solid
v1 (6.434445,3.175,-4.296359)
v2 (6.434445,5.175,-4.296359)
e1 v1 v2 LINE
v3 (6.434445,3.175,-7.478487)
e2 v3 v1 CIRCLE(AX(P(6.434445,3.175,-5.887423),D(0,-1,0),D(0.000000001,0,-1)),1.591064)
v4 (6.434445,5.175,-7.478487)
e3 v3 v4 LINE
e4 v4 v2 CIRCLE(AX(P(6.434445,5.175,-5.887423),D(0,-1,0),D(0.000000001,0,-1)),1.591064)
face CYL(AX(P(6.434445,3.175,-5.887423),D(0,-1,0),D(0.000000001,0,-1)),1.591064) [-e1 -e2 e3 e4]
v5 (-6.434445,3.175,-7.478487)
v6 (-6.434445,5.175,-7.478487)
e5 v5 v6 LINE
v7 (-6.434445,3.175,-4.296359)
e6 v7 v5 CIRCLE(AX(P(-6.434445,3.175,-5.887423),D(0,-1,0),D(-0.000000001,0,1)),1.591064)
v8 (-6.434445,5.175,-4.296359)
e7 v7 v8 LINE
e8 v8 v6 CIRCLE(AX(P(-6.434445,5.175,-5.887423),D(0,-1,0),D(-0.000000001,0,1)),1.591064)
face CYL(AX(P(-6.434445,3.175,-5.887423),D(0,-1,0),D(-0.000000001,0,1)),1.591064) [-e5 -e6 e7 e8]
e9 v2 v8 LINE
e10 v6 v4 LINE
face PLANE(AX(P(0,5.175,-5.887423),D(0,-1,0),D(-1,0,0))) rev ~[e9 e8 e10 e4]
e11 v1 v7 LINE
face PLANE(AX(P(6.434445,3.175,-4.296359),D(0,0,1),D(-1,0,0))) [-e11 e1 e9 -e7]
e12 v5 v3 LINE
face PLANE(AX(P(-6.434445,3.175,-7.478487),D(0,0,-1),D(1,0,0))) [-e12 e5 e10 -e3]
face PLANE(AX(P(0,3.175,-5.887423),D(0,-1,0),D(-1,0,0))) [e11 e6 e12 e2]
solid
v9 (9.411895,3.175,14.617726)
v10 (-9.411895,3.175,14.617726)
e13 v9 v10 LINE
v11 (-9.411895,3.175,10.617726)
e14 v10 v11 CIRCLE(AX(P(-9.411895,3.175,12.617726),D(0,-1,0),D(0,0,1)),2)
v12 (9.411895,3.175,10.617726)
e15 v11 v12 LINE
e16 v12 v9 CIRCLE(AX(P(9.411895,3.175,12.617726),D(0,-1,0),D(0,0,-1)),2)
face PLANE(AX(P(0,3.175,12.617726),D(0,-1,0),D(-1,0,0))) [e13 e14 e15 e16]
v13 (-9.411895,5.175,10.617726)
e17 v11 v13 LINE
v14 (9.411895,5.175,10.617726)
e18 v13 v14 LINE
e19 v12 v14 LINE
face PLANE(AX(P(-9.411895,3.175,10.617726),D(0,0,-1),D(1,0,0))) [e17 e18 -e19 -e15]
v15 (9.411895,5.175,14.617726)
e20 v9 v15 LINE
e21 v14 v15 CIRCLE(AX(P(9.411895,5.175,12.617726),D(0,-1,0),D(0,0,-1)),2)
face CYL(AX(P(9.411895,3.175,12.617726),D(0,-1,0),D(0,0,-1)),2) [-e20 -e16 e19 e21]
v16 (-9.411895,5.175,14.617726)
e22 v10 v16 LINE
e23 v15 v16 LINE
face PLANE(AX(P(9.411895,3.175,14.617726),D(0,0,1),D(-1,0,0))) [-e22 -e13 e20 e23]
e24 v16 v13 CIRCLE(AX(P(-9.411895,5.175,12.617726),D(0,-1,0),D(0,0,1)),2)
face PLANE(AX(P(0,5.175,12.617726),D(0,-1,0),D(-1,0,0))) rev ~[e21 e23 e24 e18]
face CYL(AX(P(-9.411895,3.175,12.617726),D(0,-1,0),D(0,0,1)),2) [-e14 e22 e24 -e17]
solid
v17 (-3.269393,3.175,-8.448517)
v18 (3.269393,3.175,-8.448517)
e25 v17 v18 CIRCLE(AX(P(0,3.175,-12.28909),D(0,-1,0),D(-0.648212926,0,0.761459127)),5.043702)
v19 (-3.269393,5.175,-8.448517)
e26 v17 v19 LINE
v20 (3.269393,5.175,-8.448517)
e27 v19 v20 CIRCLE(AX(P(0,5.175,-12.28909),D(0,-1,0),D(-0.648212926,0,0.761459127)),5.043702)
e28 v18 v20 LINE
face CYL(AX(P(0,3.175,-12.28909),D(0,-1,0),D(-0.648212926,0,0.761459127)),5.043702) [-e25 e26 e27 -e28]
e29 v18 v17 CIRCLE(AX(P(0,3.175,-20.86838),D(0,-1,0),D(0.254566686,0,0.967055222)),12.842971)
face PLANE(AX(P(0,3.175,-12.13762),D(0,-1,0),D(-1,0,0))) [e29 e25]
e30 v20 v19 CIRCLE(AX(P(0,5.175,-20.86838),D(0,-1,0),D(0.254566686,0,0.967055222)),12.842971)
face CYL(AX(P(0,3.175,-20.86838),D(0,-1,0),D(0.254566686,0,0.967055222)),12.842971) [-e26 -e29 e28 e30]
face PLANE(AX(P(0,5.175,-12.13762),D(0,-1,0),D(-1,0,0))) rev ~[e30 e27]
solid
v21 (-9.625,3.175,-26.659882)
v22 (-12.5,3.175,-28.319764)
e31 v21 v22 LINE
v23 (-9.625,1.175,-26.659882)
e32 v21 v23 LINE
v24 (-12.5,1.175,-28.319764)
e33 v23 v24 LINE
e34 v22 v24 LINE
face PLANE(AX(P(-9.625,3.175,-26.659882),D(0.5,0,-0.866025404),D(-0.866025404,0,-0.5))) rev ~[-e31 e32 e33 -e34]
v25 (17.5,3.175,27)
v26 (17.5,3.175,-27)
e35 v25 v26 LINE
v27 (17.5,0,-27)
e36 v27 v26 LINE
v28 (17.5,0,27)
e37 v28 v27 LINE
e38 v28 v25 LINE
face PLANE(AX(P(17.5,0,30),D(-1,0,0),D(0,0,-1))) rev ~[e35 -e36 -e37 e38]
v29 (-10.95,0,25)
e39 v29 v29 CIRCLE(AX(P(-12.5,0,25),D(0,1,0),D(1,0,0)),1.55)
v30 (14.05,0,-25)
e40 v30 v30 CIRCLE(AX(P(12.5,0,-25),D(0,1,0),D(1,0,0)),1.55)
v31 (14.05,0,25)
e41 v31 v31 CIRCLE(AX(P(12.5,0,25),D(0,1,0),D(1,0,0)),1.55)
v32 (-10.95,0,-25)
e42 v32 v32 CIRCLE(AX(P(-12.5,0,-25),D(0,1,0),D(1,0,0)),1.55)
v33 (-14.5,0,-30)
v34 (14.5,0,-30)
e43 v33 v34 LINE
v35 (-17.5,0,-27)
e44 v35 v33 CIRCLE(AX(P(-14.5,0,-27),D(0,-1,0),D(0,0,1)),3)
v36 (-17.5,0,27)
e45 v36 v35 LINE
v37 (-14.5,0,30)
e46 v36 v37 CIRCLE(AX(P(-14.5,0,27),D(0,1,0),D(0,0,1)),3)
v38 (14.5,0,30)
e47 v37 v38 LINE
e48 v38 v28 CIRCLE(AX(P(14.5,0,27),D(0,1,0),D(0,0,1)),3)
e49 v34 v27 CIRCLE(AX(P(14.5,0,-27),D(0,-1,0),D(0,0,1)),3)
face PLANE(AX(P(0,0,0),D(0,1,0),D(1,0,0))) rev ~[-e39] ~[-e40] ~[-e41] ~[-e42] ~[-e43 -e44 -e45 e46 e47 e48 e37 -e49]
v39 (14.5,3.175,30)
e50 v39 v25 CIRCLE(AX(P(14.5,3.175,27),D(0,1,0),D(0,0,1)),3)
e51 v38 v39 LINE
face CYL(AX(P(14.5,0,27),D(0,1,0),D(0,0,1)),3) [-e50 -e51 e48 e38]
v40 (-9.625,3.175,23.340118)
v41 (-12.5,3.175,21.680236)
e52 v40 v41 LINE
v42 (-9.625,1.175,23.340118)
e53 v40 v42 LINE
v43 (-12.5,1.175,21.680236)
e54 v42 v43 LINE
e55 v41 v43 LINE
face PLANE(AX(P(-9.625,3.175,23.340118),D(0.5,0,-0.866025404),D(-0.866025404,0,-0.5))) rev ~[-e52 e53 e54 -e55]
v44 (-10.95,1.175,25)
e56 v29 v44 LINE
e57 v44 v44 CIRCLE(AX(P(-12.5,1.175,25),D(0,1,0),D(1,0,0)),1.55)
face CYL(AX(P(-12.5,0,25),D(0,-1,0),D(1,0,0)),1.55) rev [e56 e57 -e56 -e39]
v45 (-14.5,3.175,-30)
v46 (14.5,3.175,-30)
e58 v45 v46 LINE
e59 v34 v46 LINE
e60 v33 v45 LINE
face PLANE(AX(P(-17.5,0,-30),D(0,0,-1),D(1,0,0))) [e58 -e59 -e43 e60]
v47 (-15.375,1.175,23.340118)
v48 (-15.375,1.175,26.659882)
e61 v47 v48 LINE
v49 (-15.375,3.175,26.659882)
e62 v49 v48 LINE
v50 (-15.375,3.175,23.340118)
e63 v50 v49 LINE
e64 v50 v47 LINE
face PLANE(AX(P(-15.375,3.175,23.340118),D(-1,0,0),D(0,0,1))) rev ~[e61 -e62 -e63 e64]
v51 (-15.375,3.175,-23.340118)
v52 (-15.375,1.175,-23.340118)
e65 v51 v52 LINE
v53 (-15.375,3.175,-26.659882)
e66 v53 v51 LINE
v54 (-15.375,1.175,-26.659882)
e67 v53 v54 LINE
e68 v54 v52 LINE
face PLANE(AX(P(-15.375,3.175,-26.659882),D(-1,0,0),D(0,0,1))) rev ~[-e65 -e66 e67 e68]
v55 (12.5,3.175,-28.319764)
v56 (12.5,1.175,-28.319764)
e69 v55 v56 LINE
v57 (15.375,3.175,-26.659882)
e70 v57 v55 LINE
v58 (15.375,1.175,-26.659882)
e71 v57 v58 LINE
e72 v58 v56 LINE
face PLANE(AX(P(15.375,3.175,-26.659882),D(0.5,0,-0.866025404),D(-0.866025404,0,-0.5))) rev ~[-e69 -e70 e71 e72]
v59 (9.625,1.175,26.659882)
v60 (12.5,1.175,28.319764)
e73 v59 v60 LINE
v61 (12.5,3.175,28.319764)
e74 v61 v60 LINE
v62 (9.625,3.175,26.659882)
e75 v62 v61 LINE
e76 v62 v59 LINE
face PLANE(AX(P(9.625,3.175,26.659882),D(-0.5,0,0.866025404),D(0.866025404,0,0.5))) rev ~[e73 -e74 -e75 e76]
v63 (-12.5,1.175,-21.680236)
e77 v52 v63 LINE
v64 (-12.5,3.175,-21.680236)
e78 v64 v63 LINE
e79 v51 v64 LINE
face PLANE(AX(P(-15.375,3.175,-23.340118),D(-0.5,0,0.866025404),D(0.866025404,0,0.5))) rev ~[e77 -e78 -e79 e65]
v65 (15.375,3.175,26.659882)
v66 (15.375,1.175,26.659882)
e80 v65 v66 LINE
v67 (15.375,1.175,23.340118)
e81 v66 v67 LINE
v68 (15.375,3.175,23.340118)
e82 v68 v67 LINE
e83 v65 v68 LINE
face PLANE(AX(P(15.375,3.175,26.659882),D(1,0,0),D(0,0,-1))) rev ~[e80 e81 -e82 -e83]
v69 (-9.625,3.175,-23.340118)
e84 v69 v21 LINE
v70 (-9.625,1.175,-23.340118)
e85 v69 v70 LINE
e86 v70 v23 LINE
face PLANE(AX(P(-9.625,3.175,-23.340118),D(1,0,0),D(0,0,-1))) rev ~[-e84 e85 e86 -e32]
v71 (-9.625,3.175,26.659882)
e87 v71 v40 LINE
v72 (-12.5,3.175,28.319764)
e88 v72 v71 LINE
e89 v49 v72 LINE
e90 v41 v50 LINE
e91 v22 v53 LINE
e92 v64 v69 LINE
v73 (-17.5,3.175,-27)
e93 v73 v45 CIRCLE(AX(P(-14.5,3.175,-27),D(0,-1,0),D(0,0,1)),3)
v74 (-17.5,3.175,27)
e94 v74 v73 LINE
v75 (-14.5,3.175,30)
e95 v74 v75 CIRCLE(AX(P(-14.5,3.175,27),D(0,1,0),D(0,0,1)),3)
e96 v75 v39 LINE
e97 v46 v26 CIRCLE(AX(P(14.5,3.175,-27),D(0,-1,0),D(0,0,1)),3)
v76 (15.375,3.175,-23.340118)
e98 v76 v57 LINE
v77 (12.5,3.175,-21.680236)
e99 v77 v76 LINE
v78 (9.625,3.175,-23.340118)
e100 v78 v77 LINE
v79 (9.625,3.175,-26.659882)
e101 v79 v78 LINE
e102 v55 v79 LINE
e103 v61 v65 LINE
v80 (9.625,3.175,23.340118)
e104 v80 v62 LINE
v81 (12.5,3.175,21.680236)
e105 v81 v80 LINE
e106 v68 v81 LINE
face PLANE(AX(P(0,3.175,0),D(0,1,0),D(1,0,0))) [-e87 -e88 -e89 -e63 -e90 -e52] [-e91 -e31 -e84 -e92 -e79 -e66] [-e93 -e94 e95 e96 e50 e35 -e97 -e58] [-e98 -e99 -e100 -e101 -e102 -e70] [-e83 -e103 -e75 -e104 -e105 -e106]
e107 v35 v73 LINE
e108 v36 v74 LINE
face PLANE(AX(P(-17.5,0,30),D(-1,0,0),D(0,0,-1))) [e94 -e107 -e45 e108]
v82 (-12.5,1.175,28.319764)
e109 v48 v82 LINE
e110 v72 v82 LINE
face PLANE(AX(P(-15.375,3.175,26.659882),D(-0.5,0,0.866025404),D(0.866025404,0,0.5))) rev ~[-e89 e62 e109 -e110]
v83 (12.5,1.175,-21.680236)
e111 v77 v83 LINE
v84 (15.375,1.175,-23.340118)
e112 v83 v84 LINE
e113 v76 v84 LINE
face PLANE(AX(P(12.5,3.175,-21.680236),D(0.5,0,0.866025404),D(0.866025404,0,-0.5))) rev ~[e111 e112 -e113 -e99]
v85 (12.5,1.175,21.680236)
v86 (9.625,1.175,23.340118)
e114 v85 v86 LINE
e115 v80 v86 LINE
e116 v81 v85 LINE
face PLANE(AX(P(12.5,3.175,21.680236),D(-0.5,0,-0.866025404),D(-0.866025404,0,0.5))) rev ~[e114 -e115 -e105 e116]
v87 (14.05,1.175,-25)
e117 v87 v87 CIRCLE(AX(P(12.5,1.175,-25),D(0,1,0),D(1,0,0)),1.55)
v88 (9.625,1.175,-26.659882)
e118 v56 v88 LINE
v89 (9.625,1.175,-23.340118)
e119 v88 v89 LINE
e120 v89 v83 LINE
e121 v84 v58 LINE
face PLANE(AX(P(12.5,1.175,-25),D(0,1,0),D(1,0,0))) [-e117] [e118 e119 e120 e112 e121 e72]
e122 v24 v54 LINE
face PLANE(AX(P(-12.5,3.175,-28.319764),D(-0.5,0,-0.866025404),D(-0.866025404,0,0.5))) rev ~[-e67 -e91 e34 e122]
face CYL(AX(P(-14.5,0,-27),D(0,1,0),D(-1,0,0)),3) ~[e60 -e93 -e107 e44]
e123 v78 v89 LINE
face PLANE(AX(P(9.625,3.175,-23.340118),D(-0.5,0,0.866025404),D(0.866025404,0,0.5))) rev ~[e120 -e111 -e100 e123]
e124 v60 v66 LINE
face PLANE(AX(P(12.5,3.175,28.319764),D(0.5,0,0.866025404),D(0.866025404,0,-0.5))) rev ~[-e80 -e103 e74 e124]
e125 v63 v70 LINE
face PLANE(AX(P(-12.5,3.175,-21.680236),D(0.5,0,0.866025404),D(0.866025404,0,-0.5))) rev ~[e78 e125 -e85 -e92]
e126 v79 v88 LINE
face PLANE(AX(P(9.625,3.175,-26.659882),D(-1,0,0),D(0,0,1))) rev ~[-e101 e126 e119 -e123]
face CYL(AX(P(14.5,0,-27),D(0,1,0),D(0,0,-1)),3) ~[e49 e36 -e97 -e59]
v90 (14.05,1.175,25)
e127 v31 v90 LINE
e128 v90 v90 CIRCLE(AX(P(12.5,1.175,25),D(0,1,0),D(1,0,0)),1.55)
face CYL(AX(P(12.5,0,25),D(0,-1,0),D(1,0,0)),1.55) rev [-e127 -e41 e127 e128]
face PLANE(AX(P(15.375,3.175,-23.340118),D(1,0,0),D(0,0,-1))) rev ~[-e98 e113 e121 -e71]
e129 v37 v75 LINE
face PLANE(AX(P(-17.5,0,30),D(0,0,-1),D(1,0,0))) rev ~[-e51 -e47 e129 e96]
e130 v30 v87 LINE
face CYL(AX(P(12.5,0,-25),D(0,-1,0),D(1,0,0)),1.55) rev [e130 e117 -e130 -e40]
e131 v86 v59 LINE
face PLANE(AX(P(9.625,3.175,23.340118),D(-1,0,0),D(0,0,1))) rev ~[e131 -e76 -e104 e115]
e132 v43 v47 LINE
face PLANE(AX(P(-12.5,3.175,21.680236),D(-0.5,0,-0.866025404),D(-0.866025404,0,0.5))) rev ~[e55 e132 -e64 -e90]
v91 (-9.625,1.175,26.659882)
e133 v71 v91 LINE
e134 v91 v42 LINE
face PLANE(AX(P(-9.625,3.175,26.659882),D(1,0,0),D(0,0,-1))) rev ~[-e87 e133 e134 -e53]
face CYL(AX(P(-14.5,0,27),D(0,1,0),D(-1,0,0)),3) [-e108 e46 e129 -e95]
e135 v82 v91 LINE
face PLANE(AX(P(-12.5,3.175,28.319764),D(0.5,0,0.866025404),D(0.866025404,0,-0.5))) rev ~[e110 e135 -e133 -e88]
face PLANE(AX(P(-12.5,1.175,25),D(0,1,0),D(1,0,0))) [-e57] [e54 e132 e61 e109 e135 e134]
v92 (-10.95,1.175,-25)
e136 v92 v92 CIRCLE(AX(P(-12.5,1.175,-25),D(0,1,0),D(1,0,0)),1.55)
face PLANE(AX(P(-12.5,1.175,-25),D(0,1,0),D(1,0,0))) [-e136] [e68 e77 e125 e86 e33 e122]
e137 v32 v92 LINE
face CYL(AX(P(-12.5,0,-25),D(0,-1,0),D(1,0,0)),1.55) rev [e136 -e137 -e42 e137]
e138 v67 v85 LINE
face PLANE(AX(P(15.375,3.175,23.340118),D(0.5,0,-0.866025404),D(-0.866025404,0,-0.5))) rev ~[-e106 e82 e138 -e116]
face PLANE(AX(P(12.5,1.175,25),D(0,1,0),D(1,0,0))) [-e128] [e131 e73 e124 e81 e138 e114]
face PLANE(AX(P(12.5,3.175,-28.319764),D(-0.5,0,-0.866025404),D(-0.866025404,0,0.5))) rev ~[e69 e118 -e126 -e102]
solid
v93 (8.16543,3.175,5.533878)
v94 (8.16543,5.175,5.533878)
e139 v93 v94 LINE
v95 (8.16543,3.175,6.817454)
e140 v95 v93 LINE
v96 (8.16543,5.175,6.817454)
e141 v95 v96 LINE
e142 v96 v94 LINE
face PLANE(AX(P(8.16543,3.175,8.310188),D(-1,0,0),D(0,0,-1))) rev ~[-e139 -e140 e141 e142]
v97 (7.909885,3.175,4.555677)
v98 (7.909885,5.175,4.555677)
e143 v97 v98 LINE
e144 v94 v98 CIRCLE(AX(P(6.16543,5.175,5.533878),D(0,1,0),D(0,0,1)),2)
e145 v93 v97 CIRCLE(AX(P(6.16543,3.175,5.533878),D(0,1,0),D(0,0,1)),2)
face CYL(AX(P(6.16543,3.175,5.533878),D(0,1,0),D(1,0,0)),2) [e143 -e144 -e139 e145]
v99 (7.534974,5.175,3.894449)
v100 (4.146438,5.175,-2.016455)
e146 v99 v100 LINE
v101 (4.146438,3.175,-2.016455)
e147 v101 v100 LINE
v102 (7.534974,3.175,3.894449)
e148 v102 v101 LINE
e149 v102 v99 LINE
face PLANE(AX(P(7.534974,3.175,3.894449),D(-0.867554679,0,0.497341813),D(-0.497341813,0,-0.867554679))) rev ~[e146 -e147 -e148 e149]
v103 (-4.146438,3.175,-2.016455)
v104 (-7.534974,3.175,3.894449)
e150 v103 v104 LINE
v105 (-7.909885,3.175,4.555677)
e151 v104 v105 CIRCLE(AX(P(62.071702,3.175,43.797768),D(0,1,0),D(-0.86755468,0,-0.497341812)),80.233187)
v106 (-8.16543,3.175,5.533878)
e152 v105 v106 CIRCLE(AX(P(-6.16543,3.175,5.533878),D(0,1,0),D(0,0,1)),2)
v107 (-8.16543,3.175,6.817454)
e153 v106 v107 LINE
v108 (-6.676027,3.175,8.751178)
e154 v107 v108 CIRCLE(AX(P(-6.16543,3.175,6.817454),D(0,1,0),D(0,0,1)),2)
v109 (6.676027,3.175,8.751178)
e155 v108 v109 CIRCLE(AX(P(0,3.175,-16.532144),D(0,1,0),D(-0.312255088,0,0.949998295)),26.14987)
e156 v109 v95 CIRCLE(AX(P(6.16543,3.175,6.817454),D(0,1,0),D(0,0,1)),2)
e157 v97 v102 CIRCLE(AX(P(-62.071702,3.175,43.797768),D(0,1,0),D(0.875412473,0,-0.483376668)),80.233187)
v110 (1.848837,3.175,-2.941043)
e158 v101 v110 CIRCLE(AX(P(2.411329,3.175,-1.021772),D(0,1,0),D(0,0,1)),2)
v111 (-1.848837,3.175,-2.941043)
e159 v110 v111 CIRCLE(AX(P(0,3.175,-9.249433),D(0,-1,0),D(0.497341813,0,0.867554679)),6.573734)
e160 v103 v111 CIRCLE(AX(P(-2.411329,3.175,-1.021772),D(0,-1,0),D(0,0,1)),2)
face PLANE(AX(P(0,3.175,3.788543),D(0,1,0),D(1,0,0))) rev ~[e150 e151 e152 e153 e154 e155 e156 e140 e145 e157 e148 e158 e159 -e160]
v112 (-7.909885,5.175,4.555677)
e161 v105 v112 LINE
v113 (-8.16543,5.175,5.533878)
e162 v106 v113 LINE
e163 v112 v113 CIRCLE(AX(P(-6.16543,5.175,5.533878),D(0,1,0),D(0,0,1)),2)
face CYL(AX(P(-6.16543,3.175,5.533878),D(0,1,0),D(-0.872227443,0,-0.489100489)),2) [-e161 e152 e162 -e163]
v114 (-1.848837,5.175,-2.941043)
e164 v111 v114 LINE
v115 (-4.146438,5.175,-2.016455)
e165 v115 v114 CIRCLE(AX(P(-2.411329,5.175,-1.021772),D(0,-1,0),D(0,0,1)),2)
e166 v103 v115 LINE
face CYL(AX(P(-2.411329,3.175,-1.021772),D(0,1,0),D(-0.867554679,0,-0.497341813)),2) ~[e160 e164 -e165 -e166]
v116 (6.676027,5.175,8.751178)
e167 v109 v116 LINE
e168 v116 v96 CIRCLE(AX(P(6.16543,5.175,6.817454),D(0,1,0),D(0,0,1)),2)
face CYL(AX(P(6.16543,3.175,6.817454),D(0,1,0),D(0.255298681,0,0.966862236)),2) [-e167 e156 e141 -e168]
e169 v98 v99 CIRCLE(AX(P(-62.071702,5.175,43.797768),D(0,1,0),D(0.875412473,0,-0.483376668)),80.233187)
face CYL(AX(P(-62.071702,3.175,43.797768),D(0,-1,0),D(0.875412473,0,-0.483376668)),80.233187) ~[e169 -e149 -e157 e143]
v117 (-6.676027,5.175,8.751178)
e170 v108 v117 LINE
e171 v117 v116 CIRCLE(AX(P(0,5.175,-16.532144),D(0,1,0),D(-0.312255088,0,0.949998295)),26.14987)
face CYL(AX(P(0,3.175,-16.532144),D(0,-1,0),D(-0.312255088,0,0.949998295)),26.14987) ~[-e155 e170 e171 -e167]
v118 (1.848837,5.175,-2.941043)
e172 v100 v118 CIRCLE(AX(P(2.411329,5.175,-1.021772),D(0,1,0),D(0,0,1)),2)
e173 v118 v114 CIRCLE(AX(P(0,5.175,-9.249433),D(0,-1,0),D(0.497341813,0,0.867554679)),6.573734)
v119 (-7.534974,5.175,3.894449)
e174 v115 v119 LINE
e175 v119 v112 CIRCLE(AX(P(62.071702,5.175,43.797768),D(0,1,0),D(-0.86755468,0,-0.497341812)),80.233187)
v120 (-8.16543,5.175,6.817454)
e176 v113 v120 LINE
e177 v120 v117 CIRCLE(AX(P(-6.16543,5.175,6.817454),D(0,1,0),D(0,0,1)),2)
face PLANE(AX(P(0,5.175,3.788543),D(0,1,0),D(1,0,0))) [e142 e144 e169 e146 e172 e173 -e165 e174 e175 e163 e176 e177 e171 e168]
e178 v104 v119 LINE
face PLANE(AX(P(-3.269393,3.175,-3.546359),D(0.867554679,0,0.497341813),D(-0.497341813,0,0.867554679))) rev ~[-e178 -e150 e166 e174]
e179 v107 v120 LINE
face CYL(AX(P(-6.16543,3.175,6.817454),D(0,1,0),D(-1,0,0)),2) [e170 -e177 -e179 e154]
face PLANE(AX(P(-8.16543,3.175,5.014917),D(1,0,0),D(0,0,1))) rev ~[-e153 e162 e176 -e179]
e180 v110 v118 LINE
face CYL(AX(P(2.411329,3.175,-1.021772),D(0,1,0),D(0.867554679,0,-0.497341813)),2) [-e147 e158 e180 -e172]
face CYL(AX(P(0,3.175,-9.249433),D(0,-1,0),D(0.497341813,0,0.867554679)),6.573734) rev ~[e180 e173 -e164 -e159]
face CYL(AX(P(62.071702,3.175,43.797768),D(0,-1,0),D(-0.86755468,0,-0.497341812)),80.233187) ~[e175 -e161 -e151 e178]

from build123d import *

# Parameters (mm, degrees)
SKETCH1_W             = 35
SKETCH1_H             = 60
SKETCH1_R             = 1.55
BOSS_EXTRUDE1_DEPTH   = 3.175
CUT_EXTRUDE1_START    = 3.175
SKETCH1_3_R           = 1.55
CUT_EXTRUDE1_DEPTH    = 2
BOSS_EXTRUDE2_DEPTH   = 2
BOSS_EXTRUDE2_2_DEPTH = 2
BOSS_EXTRUDE2_3_DEPTH = 2
BOSS_EXTRUDE2_4_DEPTH = 2
FILLET1_R             = 2
FILLET2_R             = 3


with BuildPart() as part:
    # Sketch1 → Boss-Extrude1 (new body)
    with BuildSketch(Plane(origin=(0, 0, 0), x_dir=(1, 0, 0), z_dir=(0, 1, 0))):
        Rectangle(SKETCH1_W, SKETCH1_H)
        Polygon((15.375, -23.340117976), (12.5, -21.680235952), (9.625, -23.340117976), (9.625, -26.659882024), (12.5, -28.319764048), (15.375, -26.659882024), align=None, mode=Mode.SUBTRACT)
        Polygon((-15.375, -26.659882024), (-12.5, -28.319764048), (-9.625, -26.659882024), (-9.625, -23.340117976), (-12.5, -21.680235952), (-15.375, -23.340117976), align=None, mode=Mode.SUBTRACT)
        Polygon((15.375, 26.659882024), (12.5, 28.319764048), (9.625, 26.659882024), (9.625, 23.340117976), (12.5, 21.680235952), (15.375, 23.340117976), align=None, mode=Mode.SUBTRACT)
        Polygon((-9.625, 26.659882024), (-12.5, 28.319764048), (-15.375, 26.659882024), (-15.375, 23.340117976), (-12.5, 21.680235952), (-9.625, 23.340117976), align=None, mode=Mode.SUBTRACT)
        Polygon((-9.625, 23.340117976), (-9.625, 26.659882024), (-12.5, 28.319764048), (-15.375, 26.659882024), (-15.375, 23.340117976), (-12.5, 21.680235952), align=None)
        with Locations((-12.5, 25)):
            Circle(SKETCH1_R, mode=Mode.SUBTRACT)
        Polygon((15.375, 23.340117976), (15.375, 26.659882024), (12.5, 28.319764048), (9.625, 26.659882024), (9.625, 23.340117976), (12.5, 21.680235952), align=None)
        with Locations((12.5, 25)):
            Circle(SKETCH1_R, mode=Mode.SUBTRACT)
        Polygon((15.375, -26.659882024), (15.375, -23.340117976), (12.5, -21.680235952), (9.625, -23.340117976), (9.625, -26.659882024), (12.5, -28.319764048), align=None)
        with Locations((12.5, -25)):
            Circle(SKETCH1_R, mode=Mode.SUBTRACT)
        Polygon((-15.375, -23.340117976), (-15.375, -26.659882024), (-12.5, -28.319764048), (-9.625, -26.659882024), (-9.625, -23.340117976), (-12.5, -21.680235952), align=None)
        with Locations((-12.5, -25)):
            Circle(SKETCH1_R, mode=Mode.SUBTRACT)
    extrude(amount=BOSS_EXTRUDE1_DEPTH)

    # Sketch1<3> → Cut-Extrude1 (cut)
    with BuildSketch(Plane(origin=(0, 0, 0), x_dir=(1, 0, 0), z_dir=(0, 1, 0)).offset(CUT_EXTRUDE1_START)):
        Polygon((-15.375, -23.340117976), (-15.375, -26.659882024), (-12.5, -28.319764048), (-9.625, -26.659882024), (-9.625, -23.340117976), (-12.5, -21.680235952), align=None)
        with Locations((-12.5, -25)):
            Circle(SKETCH1_3_R, mode=Mode.SUBTRACT)
        Polygon((-9.625, 23.340117976), (-9.625, 26.659882024), (-12.5, 28.319764048), (-15.375, 26.659882024), (-15.375, 23.340117976), (-12.5, 21.680235952), align=None)
        with Locations((-12.5, 25)):
            Circle(SKETCH1_3_R, mode=Mode.SUBTRACT)
        Polygon((15.375, 23.340117976), (15.375, 26.659882024), (12.5, 28.319764048), (9.625, 26.659882024), (9.625, 23.340117976), (12.5, 21.680235952), align=None)
        with Locations((12.5, 25)):
            Circle(SKETCH1_3_R, mode=Mode.SUBTRACT)
        Polygon((15.375, -26.659882024), (15.375, -23.340117976), (12.5, -21.680235952), (9.625, -23.340117976), (9.625, -26.659882024), (12.5, -28.319764048), align=None)
        with Locations((12.5, -25)):
            Circle(SKETCH1_3_R, mode=Mode.SUBTRACT)
    extrude(amount=-CUT_EXTRUDE1_DEPTH, mode=Mode.SUBTRACT)

    # Fillet2
    fillet2_edges = [part.edges().sort_by_distance(p)[0] for p in [
        (-17.5, 1.5875, 30),
        (-17.5, 1.5875, -30),
        (17.5, 1.5875, -30),
        (17.5, 1.5875, 30),
    ]]
    fillet(fillet2_edges, radius=FILLET2_R)


with BuildPart() as body_2:
    # Sketch2 → Boss-Extrude2 (new body)
    with BuildSketch(Plane(origin=(0, 3.175, 0), x_dir=(1, 0, 0), z_dir=(0, 1, 0))):
        with BuildLine():
            Line((-3.269392663, 3.546359145), (-7.534974208, -3.894449428))
            ThreePointArc((-7.534974208, -3.894449428), (-7.852446436, -4.453420618), (-8.165429983, -5.014917462))
            Line((-8.165429983, -5.014917462), (-8.165429983, -8.310188106))
            ThreePointArc((-8.165429983, -8.310188106), (0, -9.6177262), (8.165429983, -8.310188106))
            Line((8.165429983, -8.310188106), (8.165429983, -5.014917462))
            ThreePointArc((8.165429983, -5.014917462), (7.852446436, -4.453420618), (7.534974208, -3.894449428))
            Line((7.534974208, -3.894449428), (3.269392663, 3.546359145))
            ThreePointArc((3.269392663, 3.546359145), (0, 2.675698868), (-3.269392663, 3.546359145))
        make_face()
    extrude(amount=BOSS_EXTRUDE2_DEPTH)

    # Fillet1
    fillet1_edges = [body_2.edges().sort_by_distance(p)[0] for p in [
        (-3.269392663, 4.175, -3.546359145),
        (3.269392663, 4.175, -3.546359145),
        (8.165429983, 4.175, 5.014917462),
        (8.165429983, 4.175, 8.310188106),
        (-8.165429983, 4.175, 8.310188106),
        (-8.165429983, 4.175, 5.014917462),
    ]]
    fillet(fillet1_edges, radius=FILLET1_R)


with BuildPart() as body_3:
    # Sketch2 → Boss-Extrude2 2 (new body)
    with BuildSketch(Plane(origin=(0, 3.175, 0), x_dir=(1, 0, 0), z_dir=(0, 1, 0))):
        with BuildLine():
            Line((-6.434445122, 7.478486551), (6.434445122, 7.478486551))
            ThreePointArc((6.434445122, 7.478486551), (8.025508824, 5.887422848), (6.434445122, 4.296359145))
            Line((6.434445122, 4.296359145), (-6.434445122, 4.296359145))
            ThreePointArc((-6.434445122, 4.296359145), (-8.025508824, 5.887422848), (-6.434445122, 7.478486551))
        make_face()
    extrude(amount=BOSS_EXTRUDE2_2_DEPTH)


with BuildPart() as body_4:
    # Sketch2 → Boss-Extrude2 3 (new body)
    with BuildSketch(Plane(origin=(0, 3.175, 0), x_dir=(1, 0, 0), z_dir=(0, 1, 0))):
        with BuildLine():
            Line((-9.411894665, -10.6177262), (9.411894665, -10.6177262))
            ThreePointArc((9.411894665, -10.6177262), (11.411894665, -12.6177262), (9.411894665, -14.6177262))
            Line((9.411894665, -14.6177262), (-9.411894665, -14.6177262))
            ThreePointArc((-9.411894665, -14.6177262), (-11.411894665, -12.6177262), (-9.411894665, -10.6177262))
        make_face()
    extrude(amount=BOSS_EXTRUDE2_3_DEPTH)


with BuildPart() as body_5:
    # Sketch2 → Boss-Extrude2 4 (new body)
    with BuildSketch(Plane(origin=(0, 3.175, 0), x_dir=(1, 0, 0), z_dir=(0, 1, 0))):
        with BuildLine():
            ThreePointArc((-3.269392663, 8.448517148), (0, 17.332791609), (3.269392663, 8.448517148))
            ThreePointArc((3.269392663, 8.448517148), (0, 8.025408307), (-3.269392663, 8.448517148))
        make_face()
    extrude(amount=BOSS_EXTRUDE2_4_DEPTH)


solid = Compound([part.part, body_2.part, body_3.part, body_4.part, body_5.part])
